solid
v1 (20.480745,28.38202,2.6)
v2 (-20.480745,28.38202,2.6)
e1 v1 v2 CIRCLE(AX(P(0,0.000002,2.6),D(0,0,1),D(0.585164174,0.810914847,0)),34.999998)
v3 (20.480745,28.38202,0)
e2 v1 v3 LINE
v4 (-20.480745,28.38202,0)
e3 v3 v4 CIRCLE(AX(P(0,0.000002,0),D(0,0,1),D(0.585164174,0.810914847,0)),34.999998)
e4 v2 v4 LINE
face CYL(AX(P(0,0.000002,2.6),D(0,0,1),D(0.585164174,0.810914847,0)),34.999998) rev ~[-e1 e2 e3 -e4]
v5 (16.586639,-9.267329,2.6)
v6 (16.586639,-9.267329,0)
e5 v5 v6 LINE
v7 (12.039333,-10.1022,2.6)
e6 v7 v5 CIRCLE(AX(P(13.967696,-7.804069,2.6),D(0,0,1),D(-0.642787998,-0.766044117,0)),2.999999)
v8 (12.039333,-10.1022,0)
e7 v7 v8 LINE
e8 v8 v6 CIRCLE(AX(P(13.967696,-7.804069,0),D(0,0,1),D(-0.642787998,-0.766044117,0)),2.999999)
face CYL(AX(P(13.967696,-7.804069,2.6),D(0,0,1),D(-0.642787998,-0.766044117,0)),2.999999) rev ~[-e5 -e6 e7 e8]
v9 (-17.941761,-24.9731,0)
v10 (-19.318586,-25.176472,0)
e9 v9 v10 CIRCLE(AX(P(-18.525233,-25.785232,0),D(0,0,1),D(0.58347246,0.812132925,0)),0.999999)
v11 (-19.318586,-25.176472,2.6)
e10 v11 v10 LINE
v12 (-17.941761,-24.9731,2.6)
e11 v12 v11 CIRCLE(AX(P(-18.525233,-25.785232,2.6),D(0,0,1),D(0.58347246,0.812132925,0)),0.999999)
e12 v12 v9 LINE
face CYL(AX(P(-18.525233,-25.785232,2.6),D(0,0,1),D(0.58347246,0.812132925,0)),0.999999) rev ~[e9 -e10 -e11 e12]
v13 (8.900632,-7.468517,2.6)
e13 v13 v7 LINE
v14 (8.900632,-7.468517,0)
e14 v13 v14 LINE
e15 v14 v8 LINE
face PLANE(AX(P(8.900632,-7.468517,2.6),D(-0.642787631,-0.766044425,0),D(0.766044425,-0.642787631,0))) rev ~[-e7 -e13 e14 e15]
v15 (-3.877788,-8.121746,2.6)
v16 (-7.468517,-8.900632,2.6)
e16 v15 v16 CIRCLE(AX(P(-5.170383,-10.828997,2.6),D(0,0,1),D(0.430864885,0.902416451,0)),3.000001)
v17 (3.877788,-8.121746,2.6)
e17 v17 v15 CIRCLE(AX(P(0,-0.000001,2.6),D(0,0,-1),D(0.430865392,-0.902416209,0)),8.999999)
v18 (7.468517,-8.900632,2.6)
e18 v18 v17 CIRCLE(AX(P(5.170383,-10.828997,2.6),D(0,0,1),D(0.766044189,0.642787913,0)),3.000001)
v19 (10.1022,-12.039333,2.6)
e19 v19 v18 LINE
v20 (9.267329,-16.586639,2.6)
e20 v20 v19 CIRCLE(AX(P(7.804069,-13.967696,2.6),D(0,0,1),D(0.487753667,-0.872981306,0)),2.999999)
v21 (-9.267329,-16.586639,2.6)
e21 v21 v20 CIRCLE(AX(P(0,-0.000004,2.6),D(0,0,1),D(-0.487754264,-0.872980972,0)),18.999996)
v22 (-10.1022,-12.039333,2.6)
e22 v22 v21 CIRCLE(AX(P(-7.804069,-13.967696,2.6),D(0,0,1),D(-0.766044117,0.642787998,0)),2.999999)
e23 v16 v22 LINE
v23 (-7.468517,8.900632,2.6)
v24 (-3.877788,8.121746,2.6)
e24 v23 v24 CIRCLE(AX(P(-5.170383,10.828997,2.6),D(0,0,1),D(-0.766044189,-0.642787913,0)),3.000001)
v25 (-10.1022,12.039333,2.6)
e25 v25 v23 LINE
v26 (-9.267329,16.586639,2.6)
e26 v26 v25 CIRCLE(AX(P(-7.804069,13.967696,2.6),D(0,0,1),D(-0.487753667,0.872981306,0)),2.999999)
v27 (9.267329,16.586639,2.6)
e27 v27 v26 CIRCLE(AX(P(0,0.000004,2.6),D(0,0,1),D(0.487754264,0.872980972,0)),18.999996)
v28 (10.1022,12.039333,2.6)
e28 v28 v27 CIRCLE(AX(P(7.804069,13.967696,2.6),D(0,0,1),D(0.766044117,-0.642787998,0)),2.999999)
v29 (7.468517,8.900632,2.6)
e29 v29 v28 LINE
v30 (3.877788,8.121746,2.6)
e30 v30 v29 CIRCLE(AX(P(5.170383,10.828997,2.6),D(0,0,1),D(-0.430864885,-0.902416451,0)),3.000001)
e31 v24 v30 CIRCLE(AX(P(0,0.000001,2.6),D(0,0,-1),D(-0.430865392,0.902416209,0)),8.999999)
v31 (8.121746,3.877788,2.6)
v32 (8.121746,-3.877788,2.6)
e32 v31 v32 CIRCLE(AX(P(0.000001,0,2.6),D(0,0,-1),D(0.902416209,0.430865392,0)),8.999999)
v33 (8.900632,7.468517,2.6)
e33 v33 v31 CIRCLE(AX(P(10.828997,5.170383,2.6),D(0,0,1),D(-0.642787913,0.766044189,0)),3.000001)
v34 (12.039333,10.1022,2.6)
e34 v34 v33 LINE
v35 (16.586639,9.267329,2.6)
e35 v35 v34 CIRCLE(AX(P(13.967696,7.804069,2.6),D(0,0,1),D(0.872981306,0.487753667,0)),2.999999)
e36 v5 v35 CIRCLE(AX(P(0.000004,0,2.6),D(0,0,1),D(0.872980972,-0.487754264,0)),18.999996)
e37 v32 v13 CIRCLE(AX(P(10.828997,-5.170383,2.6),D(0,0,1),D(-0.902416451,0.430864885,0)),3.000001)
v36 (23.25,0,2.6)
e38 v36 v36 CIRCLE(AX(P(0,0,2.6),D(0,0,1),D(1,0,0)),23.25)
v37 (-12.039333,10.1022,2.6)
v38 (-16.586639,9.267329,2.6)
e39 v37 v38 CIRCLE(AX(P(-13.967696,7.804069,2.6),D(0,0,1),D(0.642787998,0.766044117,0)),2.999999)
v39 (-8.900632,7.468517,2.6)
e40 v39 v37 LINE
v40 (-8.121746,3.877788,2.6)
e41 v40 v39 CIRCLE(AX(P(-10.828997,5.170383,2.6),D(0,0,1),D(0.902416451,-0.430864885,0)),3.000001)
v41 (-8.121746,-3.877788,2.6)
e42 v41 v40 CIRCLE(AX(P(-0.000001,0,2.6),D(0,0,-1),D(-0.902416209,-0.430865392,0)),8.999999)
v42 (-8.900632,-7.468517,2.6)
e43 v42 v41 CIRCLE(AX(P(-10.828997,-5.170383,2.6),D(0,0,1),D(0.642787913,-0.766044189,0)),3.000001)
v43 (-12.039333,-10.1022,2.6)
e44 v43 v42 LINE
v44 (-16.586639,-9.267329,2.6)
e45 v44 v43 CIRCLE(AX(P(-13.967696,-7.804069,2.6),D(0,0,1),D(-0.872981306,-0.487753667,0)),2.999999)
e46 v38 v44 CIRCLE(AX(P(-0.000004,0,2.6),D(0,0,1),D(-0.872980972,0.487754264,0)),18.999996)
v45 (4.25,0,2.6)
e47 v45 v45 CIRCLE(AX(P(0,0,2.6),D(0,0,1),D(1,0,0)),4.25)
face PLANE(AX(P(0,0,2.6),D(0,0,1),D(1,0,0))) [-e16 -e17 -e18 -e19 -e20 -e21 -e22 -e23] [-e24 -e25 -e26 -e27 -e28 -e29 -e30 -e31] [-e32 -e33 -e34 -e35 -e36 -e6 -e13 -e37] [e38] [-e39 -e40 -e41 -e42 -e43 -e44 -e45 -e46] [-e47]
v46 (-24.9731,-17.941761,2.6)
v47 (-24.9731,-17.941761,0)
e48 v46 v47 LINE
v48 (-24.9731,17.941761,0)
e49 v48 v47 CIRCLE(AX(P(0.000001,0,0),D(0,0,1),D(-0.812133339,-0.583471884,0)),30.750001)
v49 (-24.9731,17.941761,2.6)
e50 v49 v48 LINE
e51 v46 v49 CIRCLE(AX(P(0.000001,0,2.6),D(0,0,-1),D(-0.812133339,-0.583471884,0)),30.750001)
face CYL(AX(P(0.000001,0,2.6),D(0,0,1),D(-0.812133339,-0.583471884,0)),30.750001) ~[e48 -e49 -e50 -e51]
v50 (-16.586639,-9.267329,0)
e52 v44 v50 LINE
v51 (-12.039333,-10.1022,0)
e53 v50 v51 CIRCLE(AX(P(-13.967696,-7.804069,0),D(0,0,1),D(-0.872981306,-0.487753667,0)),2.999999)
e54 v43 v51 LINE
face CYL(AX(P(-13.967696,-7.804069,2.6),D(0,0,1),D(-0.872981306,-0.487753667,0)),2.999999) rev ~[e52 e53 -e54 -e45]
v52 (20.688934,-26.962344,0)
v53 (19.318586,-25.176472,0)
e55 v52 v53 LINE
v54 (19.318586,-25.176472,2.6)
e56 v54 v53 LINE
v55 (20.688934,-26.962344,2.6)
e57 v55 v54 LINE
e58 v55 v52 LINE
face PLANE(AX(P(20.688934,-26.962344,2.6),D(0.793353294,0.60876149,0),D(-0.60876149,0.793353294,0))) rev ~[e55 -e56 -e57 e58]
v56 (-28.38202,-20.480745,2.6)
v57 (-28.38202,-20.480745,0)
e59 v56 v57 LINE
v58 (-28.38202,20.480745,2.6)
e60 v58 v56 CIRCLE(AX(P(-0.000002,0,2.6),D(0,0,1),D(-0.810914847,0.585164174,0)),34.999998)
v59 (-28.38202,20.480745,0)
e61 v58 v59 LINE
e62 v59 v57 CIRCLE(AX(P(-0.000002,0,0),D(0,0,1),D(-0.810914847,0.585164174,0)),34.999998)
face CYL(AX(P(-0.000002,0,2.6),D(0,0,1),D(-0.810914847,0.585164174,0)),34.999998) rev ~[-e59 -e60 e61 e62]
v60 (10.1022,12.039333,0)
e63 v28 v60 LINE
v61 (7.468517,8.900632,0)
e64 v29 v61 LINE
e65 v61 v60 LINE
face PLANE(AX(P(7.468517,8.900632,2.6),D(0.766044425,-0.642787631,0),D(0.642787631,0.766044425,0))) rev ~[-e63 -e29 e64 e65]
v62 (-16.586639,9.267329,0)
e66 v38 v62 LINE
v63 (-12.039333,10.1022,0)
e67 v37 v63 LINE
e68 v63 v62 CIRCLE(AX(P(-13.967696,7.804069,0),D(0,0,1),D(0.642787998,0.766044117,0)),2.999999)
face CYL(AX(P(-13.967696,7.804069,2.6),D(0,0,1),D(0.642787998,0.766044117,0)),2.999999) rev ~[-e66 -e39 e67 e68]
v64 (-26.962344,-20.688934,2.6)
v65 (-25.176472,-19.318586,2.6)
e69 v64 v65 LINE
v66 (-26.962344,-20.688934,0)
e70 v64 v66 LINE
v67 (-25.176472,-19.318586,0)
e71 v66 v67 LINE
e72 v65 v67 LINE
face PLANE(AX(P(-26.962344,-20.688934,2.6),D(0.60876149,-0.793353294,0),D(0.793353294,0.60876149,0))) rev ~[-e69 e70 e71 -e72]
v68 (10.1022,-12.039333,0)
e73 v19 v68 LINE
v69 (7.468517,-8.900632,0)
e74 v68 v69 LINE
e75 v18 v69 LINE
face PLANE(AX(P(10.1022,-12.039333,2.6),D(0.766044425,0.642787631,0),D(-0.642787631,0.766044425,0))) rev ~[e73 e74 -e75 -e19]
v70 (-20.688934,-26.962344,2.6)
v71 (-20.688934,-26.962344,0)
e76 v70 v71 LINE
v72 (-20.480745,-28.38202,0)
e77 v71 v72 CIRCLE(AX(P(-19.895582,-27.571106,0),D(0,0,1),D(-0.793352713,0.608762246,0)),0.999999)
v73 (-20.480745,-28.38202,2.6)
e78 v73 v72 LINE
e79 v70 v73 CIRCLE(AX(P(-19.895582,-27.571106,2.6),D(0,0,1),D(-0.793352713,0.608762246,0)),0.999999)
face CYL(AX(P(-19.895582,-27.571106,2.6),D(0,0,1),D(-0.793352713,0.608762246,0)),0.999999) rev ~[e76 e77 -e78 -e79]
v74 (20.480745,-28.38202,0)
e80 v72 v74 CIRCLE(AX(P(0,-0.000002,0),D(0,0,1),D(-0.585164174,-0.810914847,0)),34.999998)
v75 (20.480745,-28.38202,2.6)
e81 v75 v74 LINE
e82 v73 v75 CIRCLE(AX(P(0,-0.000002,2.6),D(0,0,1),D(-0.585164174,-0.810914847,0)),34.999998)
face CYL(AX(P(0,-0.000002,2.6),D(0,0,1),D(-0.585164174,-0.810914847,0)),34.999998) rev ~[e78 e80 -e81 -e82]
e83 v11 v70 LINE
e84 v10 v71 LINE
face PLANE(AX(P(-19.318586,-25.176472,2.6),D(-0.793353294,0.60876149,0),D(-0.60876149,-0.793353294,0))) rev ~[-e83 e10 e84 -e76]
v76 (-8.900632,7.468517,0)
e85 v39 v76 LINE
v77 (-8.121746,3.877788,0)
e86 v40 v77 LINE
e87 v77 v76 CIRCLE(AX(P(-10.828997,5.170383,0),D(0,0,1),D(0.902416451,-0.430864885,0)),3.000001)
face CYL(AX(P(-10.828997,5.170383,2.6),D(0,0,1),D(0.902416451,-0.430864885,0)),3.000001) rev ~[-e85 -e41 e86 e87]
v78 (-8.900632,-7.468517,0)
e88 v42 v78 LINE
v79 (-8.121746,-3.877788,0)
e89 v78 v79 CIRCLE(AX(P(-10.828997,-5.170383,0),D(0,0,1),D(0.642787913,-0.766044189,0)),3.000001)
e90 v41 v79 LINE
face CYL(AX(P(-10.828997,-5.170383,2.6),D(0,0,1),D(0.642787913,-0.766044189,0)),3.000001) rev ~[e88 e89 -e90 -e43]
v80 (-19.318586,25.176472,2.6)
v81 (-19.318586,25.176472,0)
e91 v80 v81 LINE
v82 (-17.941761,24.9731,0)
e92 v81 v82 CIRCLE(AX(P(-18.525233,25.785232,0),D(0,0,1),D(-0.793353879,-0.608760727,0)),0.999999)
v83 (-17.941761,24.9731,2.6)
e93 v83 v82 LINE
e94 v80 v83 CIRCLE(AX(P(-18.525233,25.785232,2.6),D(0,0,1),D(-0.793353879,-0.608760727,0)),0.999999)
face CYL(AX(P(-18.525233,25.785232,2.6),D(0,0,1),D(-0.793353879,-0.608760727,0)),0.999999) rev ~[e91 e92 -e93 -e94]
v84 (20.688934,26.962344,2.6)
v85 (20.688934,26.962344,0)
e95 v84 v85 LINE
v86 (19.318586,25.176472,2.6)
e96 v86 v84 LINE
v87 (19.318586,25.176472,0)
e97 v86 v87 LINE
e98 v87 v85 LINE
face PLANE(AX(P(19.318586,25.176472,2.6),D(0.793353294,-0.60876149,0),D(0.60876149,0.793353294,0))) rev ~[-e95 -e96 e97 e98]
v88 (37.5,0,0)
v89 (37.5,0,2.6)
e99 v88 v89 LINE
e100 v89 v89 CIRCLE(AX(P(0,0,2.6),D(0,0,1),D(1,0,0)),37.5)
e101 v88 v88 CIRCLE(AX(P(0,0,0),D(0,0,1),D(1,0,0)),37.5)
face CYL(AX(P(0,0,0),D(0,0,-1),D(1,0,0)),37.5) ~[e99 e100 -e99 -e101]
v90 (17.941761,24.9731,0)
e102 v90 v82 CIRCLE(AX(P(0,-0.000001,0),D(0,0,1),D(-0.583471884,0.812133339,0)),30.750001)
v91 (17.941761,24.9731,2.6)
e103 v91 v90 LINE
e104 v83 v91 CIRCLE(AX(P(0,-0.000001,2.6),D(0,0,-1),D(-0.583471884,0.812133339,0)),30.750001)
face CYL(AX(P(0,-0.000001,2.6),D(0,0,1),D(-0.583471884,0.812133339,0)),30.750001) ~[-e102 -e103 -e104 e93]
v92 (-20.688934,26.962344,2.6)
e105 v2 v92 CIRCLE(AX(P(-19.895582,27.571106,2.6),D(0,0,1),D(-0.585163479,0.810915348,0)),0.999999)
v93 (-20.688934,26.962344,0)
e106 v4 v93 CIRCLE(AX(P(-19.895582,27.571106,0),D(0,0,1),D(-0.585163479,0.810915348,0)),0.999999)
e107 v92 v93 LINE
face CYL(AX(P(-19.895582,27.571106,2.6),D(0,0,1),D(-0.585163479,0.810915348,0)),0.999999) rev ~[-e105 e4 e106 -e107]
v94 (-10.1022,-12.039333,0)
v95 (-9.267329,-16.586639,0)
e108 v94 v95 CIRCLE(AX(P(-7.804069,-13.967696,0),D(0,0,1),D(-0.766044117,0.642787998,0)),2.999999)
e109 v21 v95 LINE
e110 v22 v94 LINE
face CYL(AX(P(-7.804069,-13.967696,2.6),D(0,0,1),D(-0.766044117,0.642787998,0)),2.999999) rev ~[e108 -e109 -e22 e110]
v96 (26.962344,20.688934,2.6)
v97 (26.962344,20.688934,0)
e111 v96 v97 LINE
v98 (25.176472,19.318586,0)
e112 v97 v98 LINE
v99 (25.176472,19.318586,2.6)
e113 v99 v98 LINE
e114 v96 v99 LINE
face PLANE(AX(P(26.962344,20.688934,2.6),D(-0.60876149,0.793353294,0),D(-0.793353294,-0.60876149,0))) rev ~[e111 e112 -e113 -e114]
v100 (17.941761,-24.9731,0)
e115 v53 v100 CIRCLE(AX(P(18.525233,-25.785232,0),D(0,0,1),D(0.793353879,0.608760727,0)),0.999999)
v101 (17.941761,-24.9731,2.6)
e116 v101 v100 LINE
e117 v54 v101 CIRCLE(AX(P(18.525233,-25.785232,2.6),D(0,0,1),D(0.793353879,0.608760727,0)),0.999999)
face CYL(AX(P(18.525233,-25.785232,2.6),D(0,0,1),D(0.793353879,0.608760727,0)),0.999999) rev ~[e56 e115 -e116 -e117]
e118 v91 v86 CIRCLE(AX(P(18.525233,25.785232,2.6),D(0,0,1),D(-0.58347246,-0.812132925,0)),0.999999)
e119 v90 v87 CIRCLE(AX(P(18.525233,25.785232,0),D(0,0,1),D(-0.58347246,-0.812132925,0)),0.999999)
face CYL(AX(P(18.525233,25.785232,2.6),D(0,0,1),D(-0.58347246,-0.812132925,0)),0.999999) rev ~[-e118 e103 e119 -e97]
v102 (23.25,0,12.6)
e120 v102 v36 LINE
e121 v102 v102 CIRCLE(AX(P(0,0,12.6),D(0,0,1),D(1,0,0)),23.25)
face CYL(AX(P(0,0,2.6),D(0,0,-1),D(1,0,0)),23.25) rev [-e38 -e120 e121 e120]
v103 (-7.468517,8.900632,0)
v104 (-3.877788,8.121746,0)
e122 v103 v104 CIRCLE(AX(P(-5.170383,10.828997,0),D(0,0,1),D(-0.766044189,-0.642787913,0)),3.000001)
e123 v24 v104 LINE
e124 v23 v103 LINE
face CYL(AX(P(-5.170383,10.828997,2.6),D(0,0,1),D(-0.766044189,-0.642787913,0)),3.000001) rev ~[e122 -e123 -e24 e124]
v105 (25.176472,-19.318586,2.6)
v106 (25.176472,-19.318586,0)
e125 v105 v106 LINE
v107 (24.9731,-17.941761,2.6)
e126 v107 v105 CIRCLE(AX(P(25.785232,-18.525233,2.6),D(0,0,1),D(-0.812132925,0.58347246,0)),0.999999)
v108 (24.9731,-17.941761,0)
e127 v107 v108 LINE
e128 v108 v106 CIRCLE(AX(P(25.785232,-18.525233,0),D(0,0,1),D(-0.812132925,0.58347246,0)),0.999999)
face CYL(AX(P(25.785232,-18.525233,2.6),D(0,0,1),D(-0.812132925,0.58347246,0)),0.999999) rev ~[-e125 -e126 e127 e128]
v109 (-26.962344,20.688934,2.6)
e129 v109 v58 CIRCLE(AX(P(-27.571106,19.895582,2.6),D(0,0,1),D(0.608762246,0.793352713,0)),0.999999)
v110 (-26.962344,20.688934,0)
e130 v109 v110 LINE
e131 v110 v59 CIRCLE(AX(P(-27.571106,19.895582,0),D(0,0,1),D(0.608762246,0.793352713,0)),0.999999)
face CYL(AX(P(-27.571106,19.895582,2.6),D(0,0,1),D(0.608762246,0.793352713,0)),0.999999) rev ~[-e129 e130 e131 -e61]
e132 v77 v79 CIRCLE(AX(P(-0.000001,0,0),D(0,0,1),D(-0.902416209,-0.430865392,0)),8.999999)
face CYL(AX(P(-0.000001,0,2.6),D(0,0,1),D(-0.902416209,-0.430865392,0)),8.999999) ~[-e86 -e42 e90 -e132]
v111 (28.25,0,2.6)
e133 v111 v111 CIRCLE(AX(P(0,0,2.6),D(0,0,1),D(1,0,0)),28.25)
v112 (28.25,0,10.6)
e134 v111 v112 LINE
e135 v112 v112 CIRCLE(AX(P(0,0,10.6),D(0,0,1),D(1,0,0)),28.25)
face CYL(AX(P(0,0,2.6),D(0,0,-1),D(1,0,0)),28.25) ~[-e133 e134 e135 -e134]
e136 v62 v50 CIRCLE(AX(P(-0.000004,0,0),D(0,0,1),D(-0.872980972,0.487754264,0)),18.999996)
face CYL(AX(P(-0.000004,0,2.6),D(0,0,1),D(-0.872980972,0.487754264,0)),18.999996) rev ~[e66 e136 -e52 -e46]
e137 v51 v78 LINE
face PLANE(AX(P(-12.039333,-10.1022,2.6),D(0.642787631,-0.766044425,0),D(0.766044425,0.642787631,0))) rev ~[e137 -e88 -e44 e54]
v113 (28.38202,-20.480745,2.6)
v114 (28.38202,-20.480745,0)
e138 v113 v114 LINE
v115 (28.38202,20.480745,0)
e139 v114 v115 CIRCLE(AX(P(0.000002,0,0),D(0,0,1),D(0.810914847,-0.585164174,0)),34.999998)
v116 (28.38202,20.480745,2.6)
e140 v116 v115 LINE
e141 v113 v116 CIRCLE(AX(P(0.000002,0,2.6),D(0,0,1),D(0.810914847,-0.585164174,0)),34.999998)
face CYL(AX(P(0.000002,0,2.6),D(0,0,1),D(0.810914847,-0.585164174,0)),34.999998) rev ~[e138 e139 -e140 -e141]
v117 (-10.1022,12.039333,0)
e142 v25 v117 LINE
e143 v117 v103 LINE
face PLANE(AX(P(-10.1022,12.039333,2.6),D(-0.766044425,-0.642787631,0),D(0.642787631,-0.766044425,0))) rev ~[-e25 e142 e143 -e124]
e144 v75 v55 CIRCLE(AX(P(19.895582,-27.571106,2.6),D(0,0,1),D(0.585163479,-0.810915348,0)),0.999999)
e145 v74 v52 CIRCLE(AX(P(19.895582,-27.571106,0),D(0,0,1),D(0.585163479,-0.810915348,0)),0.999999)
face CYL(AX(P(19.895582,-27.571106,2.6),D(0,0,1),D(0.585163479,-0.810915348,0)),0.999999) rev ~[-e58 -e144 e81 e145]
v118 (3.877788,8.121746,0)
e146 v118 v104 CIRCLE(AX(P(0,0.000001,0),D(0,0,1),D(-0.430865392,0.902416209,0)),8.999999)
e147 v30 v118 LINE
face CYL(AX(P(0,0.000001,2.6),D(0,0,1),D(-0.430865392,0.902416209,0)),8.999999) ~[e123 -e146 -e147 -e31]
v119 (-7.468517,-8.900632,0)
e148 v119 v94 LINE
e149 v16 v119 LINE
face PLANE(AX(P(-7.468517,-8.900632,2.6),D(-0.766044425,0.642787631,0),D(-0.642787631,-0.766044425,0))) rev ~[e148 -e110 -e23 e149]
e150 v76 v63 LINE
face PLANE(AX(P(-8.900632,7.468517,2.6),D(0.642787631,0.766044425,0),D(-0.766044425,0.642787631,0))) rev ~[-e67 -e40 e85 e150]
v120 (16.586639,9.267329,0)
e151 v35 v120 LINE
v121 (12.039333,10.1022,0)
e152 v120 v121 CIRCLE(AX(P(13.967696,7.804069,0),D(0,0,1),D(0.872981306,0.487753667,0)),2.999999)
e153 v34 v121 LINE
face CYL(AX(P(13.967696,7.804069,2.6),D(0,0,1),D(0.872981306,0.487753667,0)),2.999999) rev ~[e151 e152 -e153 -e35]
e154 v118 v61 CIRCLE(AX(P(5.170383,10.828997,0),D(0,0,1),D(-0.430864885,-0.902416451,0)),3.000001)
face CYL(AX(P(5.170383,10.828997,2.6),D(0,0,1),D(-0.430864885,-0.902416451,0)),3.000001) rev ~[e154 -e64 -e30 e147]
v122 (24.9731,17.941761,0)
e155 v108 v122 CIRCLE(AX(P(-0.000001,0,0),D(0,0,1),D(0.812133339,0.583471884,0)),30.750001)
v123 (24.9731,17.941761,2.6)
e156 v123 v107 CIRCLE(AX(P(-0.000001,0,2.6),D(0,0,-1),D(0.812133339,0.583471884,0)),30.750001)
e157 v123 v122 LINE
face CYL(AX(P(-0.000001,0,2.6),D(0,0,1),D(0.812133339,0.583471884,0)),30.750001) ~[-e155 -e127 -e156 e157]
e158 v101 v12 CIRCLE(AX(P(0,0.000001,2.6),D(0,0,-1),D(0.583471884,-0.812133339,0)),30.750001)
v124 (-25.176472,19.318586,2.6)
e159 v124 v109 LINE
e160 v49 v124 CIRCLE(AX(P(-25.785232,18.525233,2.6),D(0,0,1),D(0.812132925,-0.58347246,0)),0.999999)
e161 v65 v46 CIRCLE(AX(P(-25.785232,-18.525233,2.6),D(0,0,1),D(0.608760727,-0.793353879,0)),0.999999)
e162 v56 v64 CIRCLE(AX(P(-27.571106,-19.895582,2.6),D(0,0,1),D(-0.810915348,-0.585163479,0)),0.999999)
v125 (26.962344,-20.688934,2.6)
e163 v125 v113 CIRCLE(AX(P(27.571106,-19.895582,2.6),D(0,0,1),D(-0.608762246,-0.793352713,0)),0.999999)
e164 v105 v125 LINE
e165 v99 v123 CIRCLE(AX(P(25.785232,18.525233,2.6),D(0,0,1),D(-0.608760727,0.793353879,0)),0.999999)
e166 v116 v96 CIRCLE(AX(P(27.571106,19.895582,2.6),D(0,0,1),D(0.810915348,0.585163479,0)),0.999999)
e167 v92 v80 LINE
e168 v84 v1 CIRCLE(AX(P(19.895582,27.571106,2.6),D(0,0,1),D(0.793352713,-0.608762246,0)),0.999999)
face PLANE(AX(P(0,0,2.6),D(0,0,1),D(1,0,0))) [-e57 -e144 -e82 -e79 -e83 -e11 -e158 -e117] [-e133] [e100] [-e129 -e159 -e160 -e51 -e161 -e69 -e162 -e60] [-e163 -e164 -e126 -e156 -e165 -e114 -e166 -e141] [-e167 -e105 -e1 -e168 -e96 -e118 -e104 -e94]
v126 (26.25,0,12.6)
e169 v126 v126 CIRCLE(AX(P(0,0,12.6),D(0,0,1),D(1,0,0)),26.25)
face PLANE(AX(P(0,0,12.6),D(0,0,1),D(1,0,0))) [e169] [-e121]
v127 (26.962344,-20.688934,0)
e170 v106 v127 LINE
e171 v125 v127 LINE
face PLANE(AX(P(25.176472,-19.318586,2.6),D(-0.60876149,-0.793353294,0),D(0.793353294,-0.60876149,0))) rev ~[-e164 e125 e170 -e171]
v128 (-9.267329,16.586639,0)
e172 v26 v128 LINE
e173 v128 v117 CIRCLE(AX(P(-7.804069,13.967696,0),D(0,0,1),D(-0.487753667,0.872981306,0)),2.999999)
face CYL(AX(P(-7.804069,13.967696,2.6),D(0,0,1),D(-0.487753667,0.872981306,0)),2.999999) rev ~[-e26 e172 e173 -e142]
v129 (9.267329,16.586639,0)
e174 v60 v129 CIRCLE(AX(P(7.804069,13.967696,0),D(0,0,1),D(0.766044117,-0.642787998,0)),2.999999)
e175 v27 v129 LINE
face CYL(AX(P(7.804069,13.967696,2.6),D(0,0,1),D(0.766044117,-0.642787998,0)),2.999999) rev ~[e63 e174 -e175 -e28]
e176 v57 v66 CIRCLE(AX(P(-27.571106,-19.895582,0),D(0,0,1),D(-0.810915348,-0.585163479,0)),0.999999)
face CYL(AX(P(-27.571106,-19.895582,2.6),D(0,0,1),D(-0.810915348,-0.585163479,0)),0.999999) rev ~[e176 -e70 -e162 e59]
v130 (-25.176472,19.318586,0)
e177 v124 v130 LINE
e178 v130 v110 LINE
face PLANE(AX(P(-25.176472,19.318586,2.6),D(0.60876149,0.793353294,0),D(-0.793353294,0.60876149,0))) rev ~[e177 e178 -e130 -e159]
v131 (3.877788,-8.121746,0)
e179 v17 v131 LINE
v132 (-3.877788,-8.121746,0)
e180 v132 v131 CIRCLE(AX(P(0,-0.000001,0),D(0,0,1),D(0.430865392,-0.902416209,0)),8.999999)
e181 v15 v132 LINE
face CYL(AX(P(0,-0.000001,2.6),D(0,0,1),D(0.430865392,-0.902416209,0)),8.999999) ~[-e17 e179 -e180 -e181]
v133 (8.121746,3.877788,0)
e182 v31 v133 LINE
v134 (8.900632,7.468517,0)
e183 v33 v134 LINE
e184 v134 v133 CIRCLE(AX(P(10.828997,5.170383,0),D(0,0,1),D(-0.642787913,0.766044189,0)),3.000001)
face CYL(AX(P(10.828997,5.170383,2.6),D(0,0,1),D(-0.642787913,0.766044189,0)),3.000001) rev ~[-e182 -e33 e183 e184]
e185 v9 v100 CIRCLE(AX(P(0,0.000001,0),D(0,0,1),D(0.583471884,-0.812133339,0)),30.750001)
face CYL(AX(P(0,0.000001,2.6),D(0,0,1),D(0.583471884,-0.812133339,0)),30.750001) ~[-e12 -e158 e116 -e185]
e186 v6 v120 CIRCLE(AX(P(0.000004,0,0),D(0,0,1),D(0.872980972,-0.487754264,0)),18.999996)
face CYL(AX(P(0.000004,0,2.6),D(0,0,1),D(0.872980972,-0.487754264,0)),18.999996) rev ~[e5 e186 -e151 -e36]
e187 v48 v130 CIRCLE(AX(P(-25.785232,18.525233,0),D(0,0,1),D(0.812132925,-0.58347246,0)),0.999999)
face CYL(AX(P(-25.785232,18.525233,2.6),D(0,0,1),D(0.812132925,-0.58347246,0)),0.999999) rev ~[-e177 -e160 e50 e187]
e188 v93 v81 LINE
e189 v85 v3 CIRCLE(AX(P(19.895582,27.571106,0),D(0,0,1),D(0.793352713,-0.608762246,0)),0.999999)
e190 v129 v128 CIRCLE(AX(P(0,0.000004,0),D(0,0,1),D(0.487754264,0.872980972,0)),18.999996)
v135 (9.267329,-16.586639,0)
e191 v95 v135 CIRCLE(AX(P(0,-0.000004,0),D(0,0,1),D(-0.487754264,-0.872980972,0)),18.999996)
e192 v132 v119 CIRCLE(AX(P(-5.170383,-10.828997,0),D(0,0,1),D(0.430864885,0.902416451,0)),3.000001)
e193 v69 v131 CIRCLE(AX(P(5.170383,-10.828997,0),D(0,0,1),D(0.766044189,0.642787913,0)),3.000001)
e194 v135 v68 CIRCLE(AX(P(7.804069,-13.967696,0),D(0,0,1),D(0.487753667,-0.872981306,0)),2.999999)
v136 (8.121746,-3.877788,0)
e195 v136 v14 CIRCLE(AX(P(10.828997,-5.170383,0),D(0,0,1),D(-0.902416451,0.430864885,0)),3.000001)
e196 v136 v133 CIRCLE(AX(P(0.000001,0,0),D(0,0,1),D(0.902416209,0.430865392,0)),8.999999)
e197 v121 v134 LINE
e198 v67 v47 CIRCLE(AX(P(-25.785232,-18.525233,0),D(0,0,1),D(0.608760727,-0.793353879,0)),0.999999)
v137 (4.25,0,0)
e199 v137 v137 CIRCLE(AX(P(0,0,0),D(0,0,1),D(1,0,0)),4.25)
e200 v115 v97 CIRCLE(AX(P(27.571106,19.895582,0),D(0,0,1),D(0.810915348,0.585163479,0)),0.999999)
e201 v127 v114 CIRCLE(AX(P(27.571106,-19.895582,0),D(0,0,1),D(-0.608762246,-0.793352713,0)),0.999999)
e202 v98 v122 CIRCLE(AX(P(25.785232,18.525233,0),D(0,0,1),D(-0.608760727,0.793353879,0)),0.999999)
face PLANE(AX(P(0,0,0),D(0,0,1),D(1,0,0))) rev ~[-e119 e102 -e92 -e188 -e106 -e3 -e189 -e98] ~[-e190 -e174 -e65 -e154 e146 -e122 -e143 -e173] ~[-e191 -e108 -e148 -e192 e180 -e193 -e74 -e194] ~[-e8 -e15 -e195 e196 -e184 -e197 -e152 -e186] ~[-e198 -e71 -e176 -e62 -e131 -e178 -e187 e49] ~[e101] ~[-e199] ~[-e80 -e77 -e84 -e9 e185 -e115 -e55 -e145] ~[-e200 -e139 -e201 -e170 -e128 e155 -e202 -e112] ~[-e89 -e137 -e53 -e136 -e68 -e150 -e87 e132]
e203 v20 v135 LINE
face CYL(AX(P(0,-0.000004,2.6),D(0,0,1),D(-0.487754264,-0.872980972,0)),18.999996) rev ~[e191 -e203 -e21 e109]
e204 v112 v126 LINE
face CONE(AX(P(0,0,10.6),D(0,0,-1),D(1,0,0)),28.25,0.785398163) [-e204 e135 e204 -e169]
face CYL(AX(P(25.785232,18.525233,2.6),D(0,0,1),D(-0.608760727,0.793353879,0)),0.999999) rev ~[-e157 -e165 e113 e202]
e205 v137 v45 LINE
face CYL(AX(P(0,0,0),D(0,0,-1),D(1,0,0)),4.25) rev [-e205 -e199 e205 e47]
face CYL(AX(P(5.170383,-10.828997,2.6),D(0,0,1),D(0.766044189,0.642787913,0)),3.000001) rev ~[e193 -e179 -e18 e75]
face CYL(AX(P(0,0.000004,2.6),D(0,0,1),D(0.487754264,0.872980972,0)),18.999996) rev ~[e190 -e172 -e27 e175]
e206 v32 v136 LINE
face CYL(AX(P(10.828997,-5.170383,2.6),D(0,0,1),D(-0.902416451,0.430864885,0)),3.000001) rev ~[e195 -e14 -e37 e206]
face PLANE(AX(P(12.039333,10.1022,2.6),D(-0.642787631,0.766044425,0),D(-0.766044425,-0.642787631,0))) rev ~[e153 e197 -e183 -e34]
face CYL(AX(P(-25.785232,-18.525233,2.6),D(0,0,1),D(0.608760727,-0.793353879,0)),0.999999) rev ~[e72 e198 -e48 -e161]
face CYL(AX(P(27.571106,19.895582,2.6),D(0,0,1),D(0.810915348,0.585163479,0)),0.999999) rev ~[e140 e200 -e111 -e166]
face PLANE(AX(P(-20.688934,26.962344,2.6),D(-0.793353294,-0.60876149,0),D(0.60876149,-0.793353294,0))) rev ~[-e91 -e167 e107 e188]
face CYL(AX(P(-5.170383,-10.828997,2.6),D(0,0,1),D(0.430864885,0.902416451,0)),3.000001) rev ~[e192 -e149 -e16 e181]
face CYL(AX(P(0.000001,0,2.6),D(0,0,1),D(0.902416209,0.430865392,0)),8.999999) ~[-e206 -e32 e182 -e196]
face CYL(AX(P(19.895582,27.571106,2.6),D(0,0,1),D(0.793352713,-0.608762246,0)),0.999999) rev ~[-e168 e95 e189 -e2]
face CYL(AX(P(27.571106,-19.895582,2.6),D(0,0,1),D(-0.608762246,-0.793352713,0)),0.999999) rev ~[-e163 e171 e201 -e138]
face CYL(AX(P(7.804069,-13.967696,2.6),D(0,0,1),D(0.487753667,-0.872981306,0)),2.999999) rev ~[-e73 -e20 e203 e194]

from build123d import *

# Parameters (mm, degrees)
F0_R      = 37.5
F0_R_2    = 23.25
F1_DEPTH  = 2.6
F2_R      = 28.25
F2_R_2    = 23.25
F3_DEPTH  = 10
F4_SIZE   = 2
F5_R      = 23.25
F5_R_2    = 4.25
F6_DEPTH  = 2.6
F8_DEPTH  = 2.601
F10_DEPTH = 2.601


with BuildPart() as f1:
    # F0 (on Top) → F1 (new body)
    with BuildSketch(Plane.XY):
        Circle(F0_R)
        Circle(F0_R_2, mode=Mode.SUBTRACT)
    extrude(amount=F1_DEPTH)

    # F2 (on face) → F3 (join)
    with BuildSketch(Plane.XY.offset(2.6)):
        Circle(F2_R)
        Circle(F2_R_2, mode=Mode.SUBTRACT)
    extrude(amount=F3_DEPTH)

    # F4
    f4_edges = [f1.edges().sort_by_distance(p)[0] for p in [
        (-28.25, 0, 12.6),
    ]]
    chamfer(f4_edges, length=F4_SIZE)

    # F5 (on Top) → F6 (join)
    with BuildSketch(Plane.XY):
        Circle(F5_R)
        Circle(F5_R_2, mode=Mode.SUBTRACT)
    extrude(amount=F6_DEPTH)

    # F7 (on face) → F8 (cut, through all)
    with BuildSketch(Plane.XY.offset(2.6)):
        with BuildLine():
            ThreePointArc((-3.877788, 8.121746), (0, 9), (3.877788, 8.121746))
            ThreePointArc((3.877788, 8.121746), (5.806341, 7.897177), (7.468517, 8.900632))
            Line((7.468517, 8.900632), (10.1022, 12.039333))
            ThreePointArc((10.1022, 12.039333), (10.754749, 14.509432), (9.267329, 16.586639))
            ThreePointArc((9.267329, 16.586639), (0, 19), (-9.267329, 16.586639))
            ThreePointArc((-9.267329, 16.586639), (-10.754749, 14.509432), (-10.1022, 12.039333))
            Line((-10.1022, 12.039333), (-7.468517, 8.900632))
            ThreePointArc((-7.468517, 8.900632), (-5.806341, 7.897177), (-3.877788, 8.121746))
        make_face()
        with BuildLine():
            Line((8.900632, -7.468517), (12.039333, -10.1022))
            ThreePointArc((12.039333, -10.1022), (14.509432, -10.754749), (16.586639, -9.267329))
            ThreePointArc((16.586639, -9.267329), (19, 0), (16.586639, 9.267329))
            ThreePointArc((16.586639, 9.267329), (14.509432, 10.754749), (12.039333, 10.1022))
            Line((12.039333, 10.1022), (8.900632, 7.468517))
            ThreePointArc((8.900632, 7.468517), (7.897177, 5.806341), (8.121746, 3.877788))
            ThreePointArc((8.121746, 3.877788), (9, 0), (8.121746, -3.877788))
            ThreePointArc((8.121746, -3.877788), (7.897177, -5.806341), (8.900632, -7.468517))
        make_face()
        with BuildLine():
            Line((-7.468517, -8.900632), (-10.1022, -12.039333))
            ThreePointArc((-10.1022, -12.039333), (-10.754749, -14.509432), (-9.267329, -16.586639))
            ThreePointArc((-9.267329, -16.586639), (0, -19), (9.267329, -16.586639))
            ThreePointArc((9.267329, -16.586639), (10.754749, -14.509432), (10.1022, -12.039333))
            Line((10.1022, -12.039333), (7.468517, -8.900632))
            ThreePointArc((7.468517, -8.900632), (5.806341, -7.897177), (3.877788, -8.121746))
            ThreePointArc((3.877788, -8.121746), (0, -9), (-3.877788, -8.121746))
            ThreePointArc((-3.877788, -8.121746), (-5.806341, -7.897177), (-7.468517, -8.900632))
        make_face()
        with BuildLine():
            Line((-8.900632, 7.468517), (-12.039333, 10.1022))
            ThreePointArc((-12.039333, 10.1022), (-14.509432, 10.754749), (-16.586639, 9.267329))
            ThreePointArc((-16.586639, 9.267329), (-19, 0), (-16.586639, -9.267329))
            ThreePointArc((-16.586639, -9.267329), (-14.509432, -10.754749), (-12.039333, -10.1022))
            Line((-12.039333, -10.1022), (-8.900632, -7.468517))
            ThreePointArc((-8.900632, -7.468517), (-7.897177, -5.806341), (-8.121746, -3.877788))
            ThreePointArc((-8.121746, -3.877788), (-9, 0), (-8.121746, 3.877788))
            ThreePointArc((-8.121746, 3.877788), (-7.897177, 5.806341), (-8.900632, 7.468517))
        make_face()
    extrude(amount=-F8_DEPTH, mode=Mode.SUBTRACT)

    # F9 (on face) → F10 (cut, through all)
    with BuildSketch(Plane.XY.offset(2.6)):
        with BuildLine():
            ThreePointArc((20.688934, 26.962344), (20.884999, 27.716199), (20.480745, 28.38202))
            ThreePointArc((20.480745, 28.38202), (0, 35), (-20.480745, 28.38202))
            ThreePointArc((-20.480745, 28.38202), (-20.884999, 27.716199), (-20.688934, 26.962344))
            Line((-20.688934, 26.962344), (-19.318586, 25.176472))
            ThreePointArc((-19.318586, 25.176472), (-18.671358, 24.795967), (-17.941761, 24.9731))
            ThreePointArc((-17.941761, 24.9731), (0, 30.75), (17.941761, 24.9731))
            ThreePointArc((17.941761, 24.9731), (18.671358, 24.795967), (19.318586, 25.176472))
            Line((19.318586, 25.176472), (20.688934, 26.962344))
        make_face()
        with BuildLine():
            ThreePointArc((26.962344, -20.688934), (27.716199, -20.884999), (28.38202, -20.480745))
            ThreePointArc((28.38202, -20.480745), (35, 0), (28.38202, 20.480745))
            ThreePointArc((28.38202, 20.480745), (27.716199, 20.884999), (26.962344, 20.688934))
            Line((26.962344, 20.688934), (25.176472, 19.318586))
            ThreePointArc((25.176472, 19.318586), (24.795967, 18.671358), (24.9731, 17.941761))
            ThreePointArc((24.9731, 17.941761), (30.75, 0), (24.9731, -17.941761))
            ThreePointArc((24.9731, -17.941761), (24.795967, -18.671358), (25.176472, -19.318586))
            Line((25.176472, -19.318586), (26.962344, -20.688934))
        make_face()
        with BuildLine():
            ThreePointArc((-20.688934, -26.962344), (-20.884999, -27.716199), (-20.480745, -28.38202))
            ThreePointArc((-20.480745, -28.38202), (0, -35), (20.480745, -28.38202))
            ThreePointArc((20.480745, -28.38202), (20.884999, -27.716199), (20.688934, -26.962344))
            Line((20.688934, -26.962344), (19.318586, -25.176472))
            ThreePointArc((19.318586, -25.176472), (18.671358, -24.795967), (17.941761, -24.9731))
            ThreePointArc((17.941761, -24.9731), (0, -30.75), (-17.941761, -24.9731))
            ThreePointArc((-17.941761, -24.9731), (-18.671358, -24.795967), (-19.318586, -25.176472))
            Line((-19.318586, -25.176472), (-20.688934, -26.962344))
        make_face()
        with BuildLine():
            ThreePointArc((-26.962344, 20.688934), (-27.716199, 20.884999), (-28.38202, 20.480745))
            ThreePointArc((-28.38202, 20.480745), (-35, 0), (-28.38202, -20.480745))
            ThreePointArc((-28.38202, -20.480745), (-27.716199, -20.884999), (-26.962344, -20.688934))
            Line((-26.962344, -20.688934), (-25.176472, -19.318586))
            ThreePointArc((-25.176472, -19.318586), (-24.795967, -18.671358), (-24.9731, -17.941761))
            ThreePointArc((-24.9731, -17.941761), (-30.75, 0), (-24.9731, 17.941761))
            ThreePointArc((-24.9731, 17.941761), (-24.795967, 18.671358), (-25.176472, 19.318586))
            Line((-25.176472, 19.318586), (-26.962344, 20.688934))
        make_face()
    extrude(amount=-F10_DEPTH, mode=Mode.SUBTRACT)


solid = f1.part
